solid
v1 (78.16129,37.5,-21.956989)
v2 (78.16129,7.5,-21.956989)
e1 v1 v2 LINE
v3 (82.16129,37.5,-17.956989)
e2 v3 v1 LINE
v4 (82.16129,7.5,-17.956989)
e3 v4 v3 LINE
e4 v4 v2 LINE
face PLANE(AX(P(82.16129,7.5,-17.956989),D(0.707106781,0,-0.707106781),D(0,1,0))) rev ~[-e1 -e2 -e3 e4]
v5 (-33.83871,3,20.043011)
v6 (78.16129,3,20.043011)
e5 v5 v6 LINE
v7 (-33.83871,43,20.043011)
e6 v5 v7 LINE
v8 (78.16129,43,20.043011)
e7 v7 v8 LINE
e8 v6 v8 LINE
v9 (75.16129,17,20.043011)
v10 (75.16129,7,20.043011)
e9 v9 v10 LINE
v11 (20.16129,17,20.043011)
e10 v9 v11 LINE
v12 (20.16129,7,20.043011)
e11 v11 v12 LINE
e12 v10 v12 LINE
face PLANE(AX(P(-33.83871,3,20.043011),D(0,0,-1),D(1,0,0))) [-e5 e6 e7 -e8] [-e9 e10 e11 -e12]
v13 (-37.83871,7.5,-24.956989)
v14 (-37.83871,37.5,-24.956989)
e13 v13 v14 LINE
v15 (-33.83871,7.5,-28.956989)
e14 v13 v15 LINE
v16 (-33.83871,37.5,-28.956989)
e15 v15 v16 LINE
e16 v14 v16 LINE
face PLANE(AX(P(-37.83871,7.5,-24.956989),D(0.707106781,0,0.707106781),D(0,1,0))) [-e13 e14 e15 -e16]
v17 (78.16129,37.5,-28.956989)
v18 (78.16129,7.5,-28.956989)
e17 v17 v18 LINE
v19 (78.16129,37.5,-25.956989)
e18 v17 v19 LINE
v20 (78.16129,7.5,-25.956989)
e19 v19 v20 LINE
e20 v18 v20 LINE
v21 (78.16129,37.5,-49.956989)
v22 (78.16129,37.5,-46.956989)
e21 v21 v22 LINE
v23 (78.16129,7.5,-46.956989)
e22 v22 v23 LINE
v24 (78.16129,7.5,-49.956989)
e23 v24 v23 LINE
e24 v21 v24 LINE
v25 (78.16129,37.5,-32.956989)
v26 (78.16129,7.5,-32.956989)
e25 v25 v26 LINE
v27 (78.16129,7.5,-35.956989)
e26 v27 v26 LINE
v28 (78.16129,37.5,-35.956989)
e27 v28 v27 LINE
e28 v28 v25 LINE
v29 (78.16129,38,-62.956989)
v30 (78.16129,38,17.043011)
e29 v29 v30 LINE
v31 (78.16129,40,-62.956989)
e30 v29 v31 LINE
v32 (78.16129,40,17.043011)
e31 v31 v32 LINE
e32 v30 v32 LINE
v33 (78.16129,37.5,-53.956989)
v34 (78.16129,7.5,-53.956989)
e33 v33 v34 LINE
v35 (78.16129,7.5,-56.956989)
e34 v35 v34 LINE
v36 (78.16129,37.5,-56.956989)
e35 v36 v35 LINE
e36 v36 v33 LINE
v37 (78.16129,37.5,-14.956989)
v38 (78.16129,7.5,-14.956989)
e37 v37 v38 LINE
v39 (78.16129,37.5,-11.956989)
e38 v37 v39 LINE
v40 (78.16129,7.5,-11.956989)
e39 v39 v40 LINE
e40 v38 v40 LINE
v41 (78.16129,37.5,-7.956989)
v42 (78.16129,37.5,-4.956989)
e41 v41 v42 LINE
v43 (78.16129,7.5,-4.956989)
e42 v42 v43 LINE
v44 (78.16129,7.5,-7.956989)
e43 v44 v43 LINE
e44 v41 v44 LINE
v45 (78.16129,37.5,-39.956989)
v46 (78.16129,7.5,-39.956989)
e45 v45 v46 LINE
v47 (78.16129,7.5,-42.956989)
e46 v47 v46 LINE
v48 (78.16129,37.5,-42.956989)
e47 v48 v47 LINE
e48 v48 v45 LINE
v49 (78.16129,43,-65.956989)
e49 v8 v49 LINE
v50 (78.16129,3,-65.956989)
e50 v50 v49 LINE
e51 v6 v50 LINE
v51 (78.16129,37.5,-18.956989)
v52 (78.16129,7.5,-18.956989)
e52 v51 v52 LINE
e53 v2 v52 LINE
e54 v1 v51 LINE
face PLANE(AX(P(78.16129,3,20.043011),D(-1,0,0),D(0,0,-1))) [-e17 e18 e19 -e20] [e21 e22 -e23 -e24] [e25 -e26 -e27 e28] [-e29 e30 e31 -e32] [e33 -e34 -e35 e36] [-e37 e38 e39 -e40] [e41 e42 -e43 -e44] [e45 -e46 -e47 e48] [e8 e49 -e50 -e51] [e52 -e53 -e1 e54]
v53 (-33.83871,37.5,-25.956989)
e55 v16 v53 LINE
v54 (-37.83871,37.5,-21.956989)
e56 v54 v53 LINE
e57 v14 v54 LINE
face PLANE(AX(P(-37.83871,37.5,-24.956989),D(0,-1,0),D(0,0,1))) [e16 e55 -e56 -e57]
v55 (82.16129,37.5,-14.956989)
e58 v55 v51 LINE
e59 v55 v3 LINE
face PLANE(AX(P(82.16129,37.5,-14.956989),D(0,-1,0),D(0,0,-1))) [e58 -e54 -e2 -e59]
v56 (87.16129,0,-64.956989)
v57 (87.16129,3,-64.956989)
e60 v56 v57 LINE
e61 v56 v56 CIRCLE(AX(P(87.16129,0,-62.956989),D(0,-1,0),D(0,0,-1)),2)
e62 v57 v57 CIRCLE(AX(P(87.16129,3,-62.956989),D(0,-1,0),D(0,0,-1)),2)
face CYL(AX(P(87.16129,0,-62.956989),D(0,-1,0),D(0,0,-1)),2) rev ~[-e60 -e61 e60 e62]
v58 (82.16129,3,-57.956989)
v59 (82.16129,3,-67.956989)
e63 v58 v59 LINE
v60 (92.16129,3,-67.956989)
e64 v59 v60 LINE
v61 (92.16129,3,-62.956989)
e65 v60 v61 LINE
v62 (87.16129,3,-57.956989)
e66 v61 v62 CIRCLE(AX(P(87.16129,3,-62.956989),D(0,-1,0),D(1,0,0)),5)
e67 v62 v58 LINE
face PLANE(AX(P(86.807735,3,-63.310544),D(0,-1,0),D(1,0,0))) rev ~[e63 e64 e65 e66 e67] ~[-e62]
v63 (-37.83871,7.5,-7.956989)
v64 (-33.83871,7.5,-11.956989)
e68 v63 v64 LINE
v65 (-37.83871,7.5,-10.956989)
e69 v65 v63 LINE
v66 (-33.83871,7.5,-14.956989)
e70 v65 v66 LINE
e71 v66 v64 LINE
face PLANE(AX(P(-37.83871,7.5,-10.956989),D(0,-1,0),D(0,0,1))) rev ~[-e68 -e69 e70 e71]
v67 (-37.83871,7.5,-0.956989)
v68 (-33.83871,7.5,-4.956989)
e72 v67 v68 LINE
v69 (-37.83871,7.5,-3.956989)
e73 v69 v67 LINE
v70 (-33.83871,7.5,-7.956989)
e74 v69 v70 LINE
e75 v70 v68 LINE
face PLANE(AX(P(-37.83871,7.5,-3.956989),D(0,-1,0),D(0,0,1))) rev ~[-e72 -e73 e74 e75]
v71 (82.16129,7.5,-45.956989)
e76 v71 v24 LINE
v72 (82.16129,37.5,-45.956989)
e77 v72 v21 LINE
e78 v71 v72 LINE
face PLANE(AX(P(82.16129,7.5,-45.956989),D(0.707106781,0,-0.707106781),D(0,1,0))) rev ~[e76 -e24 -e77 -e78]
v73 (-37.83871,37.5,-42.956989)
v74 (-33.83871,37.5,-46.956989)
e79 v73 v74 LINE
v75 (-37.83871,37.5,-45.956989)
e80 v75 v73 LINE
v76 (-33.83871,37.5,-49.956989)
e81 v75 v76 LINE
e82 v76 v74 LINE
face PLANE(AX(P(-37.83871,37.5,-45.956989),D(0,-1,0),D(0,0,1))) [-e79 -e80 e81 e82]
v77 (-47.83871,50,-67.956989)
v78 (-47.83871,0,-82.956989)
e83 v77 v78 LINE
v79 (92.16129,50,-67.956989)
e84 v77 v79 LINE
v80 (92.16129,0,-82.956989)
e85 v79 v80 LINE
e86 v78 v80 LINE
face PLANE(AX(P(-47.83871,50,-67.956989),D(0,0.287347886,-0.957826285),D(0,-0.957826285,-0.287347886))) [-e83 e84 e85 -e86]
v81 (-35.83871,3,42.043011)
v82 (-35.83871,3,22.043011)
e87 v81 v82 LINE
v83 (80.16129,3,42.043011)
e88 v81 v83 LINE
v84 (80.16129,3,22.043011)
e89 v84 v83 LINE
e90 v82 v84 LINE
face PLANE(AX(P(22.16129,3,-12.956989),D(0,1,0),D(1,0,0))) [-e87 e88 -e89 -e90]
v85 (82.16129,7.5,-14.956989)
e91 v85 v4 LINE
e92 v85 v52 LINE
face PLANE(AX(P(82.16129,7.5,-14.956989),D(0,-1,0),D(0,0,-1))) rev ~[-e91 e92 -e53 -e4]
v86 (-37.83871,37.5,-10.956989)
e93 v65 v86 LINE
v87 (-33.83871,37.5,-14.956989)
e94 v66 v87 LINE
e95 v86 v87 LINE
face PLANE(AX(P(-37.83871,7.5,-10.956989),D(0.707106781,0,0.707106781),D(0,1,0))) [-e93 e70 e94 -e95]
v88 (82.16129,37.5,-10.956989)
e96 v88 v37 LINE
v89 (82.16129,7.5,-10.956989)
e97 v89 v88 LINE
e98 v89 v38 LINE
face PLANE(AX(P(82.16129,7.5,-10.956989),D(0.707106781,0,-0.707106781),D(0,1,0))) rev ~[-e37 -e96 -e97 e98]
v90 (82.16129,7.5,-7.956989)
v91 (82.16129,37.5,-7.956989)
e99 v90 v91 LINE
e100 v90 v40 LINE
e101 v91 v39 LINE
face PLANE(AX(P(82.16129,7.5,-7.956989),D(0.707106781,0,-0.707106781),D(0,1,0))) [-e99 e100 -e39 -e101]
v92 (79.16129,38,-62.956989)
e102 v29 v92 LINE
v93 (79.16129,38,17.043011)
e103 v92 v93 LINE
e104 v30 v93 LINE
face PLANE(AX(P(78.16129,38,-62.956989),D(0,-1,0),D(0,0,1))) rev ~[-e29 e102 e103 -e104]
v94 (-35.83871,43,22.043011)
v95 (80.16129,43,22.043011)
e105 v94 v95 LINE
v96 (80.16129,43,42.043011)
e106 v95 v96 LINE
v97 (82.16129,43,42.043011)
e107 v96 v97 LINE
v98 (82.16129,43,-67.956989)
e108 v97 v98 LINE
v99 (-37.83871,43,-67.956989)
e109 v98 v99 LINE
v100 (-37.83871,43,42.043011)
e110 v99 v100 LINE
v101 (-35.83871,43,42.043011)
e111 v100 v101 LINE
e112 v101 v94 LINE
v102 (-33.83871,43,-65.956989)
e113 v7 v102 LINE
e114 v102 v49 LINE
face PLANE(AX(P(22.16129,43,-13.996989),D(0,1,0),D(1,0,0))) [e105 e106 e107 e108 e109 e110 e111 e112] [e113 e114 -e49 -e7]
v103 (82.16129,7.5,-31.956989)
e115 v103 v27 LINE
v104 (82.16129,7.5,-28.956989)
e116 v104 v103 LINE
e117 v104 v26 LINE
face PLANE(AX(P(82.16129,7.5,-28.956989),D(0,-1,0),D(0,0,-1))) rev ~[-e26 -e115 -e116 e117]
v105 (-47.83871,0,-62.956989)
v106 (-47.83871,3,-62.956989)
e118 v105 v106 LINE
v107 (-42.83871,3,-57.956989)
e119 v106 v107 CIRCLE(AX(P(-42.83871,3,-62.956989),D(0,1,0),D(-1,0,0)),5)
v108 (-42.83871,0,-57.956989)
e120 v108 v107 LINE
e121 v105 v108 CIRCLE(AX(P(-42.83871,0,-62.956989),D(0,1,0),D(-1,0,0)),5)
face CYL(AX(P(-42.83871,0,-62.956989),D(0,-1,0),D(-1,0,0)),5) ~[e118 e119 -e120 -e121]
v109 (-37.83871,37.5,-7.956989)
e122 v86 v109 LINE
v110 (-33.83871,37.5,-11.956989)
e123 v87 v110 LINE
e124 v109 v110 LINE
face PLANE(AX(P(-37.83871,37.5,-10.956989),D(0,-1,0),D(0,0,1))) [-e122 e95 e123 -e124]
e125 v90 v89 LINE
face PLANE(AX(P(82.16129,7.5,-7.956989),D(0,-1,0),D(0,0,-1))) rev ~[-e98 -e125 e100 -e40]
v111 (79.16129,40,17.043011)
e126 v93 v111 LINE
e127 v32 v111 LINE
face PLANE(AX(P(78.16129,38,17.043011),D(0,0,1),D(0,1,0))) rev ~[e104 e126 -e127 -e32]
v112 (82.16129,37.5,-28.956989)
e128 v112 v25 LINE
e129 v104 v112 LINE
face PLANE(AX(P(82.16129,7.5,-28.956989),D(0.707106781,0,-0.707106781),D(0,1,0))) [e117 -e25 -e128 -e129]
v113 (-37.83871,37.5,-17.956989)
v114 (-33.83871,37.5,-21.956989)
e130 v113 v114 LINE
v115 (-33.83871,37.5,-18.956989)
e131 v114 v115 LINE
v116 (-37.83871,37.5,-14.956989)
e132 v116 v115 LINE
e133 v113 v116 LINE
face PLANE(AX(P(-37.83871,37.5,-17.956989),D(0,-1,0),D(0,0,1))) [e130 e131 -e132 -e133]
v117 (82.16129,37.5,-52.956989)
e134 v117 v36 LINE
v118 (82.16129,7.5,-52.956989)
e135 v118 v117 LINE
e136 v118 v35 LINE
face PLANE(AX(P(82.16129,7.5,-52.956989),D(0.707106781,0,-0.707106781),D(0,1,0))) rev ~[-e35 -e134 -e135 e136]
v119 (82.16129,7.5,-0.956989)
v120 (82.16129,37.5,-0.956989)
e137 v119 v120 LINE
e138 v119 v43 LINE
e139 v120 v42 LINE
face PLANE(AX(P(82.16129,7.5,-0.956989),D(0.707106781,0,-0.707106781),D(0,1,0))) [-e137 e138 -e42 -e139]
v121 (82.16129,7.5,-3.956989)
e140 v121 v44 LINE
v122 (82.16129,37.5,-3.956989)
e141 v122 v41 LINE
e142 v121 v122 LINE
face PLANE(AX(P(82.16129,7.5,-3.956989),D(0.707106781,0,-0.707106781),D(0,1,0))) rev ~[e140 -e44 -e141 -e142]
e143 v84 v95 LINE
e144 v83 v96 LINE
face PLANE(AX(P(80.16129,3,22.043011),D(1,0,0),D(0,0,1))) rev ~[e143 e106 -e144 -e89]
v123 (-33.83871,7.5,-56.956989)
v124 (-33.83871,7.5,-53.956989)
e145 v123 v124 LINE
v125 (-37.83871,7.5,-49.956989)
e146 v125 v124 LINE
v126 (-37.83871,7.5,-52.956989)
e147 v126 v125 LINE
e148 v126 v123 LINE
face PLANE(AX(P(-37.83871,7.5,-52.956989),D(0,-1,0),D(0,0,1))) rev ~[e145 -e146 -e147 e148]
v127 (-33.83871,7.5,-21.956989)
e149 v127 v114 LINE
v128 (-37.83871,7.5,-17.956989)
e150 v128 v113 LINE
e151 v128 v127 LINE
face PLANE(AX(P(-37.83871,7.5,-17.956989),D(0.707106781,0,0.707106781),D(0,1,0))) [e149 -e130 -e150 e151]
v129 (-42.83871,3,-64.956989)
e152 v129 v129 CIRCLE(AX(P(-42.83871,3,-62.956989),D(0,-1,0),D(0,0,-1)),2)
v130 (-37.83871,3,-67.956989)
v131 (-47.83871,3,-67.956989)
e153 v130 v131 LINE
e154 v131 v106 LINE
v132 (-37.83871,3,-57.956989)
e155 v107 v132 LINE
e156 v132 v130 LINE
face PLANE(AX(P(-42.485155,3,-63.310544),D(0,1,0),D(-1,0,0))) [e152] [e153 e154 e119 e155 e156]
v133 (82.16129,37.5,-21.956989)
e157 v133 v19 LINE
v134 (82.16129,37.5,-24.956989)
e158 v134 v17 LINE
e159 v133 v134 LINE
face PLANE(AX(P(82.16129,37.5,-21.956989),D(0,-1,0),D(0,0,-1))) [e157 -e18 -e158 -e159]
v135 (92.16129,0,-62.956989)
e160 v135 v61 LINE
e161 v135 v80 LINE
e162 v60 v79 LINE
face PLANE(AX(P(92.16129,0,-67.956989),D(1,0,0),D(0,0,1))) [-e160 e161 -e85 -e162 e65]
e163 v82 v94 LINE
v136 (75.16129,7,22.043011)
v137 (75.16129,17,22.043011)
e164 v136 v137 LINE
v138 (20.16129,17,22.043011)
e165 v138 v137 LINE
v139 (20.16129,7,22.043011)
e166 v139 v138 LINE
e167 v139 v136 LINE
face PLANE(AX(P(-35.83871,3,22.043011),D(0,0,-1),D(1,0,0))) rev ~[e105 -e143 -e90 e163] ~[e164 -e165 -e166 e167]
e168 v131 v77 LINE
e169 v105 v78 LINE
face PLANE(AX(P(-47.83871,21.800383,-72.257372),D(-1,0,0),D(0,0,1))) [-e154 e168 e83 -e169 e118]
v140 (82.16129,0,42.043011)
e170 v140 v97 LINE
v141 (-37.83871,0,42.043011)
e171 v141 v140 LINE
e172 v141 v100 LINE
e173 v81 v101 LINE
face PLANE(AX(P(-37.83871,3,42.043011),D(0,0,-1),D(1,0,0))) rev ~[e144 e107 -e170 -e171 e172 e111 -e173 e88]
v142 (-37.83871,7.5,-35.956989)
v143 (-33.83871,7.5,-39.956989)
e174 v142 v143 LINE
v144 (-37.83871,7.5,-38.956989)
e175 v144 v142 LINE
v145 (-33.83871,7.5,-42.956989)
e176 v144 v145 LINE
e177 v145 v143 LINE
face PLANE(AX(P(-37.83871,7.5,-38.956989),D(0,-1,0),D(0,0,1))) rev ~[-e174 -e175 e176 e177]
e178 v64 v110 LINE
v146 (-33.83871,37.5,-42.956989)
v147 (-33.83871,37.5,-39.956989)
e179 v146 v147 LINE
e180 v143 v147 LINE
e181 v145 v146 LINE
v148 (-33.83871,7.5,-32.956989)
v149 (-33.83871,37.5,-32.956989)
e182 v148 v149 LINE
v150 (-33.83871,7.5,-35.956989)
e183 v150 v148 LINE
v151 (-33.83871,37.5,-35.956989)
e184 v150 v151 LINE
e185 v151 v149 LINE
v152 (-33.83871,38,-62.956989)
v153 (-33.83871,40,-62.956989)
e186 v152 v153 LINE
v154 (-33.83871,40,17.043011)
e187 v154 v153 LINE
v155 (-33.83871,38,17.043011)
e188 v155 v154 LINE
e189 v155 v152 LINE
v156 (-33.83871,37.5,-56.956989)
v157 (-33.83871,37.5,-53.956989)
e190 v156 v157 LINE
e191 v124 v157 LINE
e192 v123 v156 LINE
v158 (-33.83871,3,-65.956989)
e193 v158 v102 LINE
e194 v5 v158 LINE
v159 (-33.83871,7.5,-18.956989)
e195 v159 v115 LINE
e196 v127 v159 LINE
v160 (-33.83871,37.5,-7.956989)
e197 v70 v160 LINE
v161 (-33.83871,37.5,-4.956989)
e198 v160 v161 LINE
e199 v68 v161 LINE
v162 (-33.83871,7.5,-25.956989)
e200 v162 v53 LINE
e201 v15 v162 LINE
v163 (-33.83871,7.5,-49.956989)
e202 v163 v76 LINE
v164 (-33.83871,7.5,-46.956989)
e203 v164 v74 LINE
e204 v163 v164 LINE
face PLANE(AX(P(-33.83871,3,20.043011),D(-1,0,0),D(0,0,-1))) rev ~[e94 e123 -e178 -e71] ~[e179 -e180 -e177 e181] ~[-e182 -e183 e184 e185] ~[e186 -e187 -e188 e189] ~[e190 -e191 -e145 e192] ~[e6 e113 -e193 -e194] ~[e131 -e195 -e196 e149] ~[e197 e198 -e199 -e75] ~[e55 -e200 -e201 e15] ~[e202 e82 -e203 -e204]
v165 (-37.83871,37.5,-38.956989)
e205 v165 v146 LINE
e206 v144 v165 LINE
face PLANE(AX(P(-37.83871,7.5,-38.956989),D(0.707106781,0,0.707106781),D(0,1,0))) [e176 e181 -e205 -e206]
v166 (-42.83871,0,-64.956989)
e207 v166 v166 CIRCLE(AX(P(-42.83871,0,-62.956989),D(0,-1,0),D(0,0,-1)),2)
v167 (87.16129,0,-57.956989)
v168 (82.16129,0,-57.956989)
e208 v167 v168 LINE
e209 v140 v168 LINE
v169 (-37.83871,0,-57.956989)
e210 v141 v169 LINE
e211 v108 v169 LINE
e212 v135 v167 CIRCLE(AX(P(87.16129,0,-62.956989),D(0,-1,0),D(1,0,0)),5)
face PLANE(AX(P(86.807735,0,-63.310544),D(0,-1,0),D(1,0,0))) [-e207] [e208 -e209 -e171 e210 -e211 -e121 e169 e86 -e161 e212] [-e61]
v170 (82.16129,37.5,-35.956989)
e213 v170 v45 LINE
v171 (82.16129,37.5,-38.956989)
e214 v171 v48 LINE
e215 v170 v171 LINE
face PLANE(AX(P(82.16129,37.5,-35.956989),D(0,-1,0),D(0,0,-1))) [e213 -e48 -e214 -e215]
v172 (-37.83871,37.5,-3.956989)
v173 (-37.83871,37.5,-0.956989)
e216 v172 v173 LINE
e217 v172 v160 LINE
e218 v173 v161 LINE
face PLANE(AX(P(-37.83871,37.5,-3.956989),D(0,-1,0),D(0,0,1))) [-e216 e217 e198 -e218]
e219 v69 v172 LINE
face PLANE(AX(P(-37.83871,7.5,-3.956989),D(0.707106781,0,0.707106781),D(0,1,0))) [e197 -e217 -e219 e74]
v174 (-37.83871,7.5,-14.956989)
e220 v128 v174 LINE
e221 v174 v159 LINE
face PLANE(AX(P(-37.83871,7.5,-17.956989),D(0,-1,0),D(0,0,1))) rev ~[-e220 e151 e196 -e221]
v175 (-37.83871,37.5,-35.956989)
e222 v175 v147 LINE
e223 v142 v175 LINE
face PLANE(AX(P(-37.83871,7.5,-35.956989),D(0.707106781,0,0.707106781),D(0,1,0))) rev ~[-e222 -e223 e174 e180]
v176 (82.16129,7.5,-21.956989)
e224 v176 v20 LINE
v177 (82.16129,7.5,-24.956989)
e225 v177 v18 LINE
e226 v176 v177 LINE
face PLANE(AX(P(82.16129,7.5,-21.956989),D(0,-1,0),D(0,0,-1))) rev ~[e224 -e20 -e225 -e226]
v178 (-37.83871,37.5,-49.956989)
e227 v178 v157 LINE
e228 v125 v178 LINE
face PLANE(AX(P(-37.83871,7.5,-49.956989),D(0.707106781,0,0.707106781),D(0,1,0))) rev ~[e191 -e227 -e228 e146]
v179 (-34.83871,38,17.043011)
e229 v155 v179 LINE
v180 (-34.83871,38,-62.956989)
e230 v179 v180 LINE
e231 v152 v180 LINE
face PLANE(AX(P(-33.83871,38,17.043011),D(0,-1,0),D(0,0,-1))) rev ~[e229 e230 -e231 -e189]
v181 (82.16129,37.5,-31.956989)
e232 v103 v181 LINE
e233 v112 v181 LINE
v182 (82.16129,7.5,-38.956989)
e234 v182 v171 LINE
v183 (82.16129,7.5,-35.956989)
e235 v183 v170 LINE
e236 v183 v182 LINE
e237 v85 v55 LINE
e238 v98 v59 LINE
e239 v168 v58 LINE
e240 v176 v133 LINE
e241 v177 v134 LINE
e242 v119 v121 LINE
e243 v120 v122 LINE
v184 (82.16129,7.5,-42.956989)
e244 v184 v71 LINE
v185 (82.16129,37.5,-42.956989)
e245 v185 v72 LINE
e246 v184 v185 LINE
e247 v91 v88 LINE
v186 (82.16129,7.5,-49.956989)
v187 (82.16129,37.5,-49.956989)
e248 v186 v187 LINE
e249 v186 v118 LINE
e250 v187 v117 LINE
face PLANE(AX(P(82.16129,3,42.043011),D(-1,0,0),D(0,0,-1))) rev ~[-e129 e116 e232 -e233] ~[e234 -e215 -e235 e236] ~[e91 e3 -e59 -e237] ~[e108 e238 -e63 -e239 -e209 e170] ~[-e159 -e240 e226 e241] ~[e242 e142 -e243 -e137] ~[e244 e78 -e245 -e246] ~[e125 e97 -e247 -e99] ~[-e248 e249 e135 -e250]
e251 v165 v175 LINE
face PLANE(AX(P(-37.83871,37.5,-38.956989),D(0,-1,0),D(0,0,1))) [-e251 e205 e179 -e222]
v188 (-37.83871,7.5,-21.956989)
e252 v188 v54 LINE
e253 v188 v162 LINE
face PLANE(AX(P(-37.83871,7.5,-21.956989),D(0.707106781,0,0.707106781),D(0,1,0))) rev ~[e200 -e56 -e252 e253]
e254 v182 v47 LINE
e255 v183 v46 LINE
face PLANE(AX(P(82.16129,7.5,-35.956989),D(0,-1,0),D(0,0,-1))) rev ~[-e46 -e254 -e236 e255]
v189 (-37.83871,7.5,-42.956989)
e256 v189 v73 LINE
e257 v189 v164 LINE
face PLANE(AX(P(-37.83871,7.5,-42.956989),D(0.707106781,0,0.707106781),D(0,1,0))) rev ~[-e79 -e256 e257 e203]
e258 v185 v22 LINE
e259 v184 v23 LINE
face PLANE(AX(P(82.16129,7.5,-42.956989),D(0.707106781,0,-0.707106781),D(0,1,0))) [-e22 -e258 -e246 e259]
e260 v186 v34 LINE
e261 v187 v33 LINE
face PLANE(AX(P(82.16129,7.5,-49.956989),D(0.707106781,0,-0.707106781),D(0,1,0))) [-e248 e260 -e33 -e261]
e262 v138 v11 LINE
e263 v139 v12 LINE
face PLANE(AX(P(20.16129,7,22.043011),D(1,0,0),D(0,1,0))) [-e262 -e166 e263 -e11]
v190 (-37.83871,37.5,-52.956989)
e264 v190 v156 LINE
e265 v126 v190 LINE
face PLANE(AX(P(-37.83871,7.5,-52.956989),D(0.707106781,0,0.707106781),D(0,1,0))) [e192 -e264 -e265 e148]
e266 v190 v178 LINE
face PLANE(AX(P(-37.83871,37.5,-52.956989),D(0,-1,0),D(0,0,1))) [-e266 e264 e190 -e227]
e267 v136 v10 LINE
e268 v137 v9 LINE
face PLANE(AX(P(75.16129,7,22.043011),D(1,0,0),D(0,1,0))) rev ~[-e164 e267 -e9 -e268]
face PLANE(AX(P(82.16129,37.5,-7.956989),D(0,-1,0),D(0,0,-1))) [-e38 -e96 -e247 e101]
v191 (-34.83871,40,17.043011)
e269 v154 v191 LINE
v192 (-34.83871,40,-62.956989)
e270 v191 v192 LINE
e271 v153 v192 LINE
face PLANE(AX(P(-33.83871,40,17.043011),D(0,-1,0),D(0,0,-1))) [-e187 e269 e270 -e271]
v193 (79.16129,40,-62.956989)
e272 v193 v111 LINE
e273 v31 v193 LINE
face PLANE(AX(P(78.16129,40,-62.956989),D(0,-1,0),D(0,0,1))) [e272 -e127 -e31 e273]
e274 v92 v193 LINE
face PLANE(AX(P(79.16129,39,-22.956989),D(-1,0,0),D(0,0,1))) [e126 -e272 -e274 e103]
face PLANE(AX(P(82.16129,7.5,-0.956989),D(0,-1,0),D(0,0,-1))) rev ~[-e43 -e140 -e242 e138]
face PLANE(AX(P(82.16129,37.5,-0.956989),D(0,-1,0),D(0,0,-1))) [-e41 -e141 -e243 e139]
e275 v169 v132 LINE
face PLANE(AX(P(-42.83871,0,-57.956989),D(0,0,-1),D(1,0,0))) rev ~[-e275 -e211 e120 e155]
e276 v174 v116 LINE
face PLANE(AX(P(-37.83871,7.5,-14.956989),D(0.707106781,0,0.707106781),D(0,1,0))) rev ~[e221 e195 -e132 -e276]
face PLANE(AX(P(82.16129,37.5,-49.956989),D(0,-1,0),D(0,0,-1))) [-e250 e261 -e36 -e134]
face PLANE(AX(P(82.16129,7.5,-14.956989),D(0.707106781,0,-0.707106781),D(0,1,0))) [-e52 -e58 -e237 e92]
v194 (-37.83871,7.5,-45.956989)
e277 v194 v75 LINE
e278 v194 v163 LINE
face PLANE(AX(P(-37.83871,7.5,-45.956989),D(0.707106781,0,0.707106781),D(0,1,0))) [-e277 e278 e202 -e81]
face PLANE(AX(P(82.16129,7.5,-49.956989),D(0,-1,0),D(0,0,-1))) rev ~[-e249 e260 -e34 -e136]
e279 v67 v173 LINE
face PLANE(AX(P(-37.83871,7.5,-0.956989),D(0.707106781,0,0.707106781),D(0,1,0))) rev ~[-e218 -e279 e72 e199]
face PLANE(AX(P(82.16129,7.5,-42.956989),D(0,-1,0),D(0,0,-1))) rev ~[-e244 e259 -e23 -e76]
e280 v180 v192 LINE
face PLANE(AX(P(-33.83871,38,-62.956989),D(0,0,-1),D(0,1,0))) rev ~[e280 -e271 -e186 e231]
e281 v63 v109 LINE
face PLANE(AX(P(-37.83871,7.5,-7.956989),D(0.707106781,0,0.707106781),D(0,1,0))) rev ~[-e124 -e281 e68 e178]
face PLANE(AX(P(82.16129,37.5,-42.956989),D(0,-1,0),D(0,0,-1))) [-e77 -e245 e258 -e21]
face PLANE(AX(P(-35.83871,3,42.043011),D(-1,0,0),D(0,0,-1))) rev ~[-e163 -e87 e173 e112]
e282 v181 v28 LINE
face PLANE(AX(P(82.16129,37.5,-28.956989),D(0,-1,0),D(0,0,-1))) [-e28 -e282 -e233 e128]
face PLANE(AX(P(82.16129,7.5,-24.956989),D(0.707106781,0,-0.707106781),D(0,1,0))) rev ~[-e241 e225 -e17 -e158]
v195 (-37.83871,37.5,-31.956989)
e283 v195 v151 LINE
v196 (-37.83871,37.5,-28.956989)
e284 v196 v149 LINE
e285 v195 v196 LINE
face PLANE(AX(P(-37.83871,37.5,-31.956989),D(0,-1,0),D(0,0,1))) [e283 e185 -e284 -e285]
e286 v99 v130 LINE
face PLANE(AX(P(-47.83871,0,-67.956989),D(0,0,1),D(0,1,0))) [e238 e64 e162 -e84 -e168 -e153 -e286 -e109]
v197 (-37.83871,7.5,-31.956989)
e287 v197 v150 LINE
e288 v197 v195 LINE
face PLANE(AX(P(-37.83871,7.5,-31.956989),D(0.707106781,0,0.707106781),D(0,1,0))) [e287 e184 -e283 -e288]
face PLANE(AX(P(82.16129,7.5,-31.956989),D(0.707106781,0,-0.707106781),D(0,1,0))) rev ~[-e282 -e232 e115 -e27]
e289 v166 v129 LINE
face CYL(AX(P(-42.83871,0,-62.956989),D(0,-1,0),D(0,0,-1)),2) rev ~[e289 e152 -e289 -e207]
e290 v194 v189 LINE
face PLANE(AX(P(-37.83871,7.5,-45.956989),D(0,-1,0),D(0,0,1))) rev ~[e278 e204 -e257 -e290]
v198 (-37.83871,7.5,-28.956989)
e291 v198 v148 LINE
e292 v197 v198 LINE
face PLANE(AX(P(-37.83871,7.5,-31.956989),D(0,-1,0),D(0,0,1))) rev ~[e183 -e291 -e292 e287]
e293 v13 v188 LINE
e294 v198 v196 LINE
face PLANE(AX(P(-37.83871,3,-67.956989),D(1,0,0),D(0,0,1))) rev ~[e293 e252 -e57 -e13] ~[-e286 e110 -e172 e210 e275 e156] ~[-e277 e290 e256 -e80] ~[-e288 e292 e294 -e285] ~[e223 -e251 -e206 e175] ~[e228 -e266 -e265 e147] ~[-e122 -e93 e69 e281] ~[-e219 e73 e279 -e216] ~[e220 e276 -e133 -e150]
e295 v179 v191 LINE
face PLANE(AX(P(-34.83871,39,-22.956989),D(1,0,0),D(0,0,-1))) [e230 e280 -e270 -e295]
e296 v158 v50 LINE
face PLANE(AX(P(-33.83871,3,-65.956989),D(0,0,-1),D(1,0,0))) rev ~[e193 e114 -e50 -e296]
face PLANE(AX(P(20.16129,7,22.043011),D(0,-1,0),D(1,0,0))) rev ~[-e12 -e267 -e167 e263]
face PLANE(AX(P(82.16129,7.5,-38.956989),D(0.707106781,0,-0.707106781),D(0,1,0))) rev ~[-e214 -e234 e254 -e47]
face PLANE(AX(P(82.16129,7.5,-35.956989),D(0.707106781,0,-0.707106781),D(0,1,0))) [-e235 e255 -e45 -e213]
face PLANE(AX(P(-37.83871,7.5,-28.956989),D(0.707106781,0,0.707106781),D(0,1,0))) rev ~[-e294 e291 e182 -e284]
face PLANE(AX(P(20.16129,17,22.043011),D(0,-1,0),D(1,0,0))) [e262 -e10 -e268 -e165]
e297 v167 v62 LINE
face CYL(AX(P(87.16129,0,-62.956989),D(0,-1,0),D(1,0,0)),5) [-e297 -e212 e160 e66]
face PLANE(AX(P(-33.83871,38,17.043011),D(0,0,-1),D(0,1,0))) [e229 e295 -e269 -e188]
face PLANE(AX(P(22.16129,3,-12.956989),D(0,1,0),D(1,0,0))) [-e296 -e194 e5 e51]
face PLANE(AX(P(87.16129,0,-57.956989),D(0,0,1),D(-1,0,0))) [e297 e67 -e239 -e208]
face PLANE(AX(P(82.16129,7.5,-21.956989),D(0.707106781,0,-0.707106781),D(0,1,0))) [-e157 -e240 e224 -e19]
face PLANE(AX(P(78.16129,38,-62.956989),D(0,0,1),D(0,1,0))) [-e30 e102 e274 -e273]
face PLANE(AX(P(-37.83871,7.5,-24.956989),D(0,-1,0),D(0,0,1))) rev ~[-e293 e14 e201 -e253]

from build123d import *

# Parameters (mm, degrees)
SKETCH1_W                       = 120
SKETCH1_H                       = 110
BOSS_EXTRUDE1_DEPTH             = 3
SKETCH2_W                       = 112
SKETCH2_H                       = 86
BOSS_EXTRUDE2_DEPTH             = 40
BOSS_EXTRUDE3_DEPTH             = 10
BOSS_EXTRUDE3_DEPTH_BACK        = 130
SKIZZE2_R                       = 2
AUFSATZ_LINEAR_AUSTRAGEN1_DEPTH = 3
SKIZZE3_W                       = 3
SKIZZE3_H                       = 30
SCHNITT_LINEAR_AUSTRAGEN1_DEPTH = 13
SKIZZE8_W                       = 3
SKIZZE8_H                       = 30
SCHNITT_LINEAR_AUSTRAGEN2_DEPTH = 13
SKIZZE10_W                      = 80
SKIZZE10_H                      = 2
SCHNITT_LINEAR_AUSTRAGEN3_DEPTH = 1
SKIZZE11_W                      = 80
SKIZZE11_H                      = 2
SCHNITT_LINEAR_AUSTRAGEN4_DEPTH = 1
SKIZZE12_W                      = 55
SKIZZE12_H                      = 10
SCHNITT_LINEAR_AUSTRAGEN5_DEPTH = 31


with BuildPart() as part:
    # Sketch1 → Boss-Extrude1 (new body)
    with BuildSketch(Plane(origin=(0, 0, 0), x_dir=(1, 0, 0), z_dir=(0, 1, 0))):
        with Locations((22.161290323, 12.956989247)):
            Rectangle(SKETCH1_W, SKETCH1_H)
    extrude(amount=BOSS_EXTRUDE1_DEPTH)

    # Sketch2 → Boss-Extrude2 (add)
    with BuildSketch(Plane(origin=(0, 3, 0), x_dir=(1, 0, 0), z_dir=(0, 1, 0))):
        Polygon((-37.838709677, 67.956989247), (-37.838709677, -42.043010753), (-35.838709677, -42.043010753), (-35.838709677, -22.043010753), (80.161290323, -22.043010753), (80.161290323, -42.043010753), (82.161290323, -42.043010753), (82.161290323, 67.956989247), align=None)
        with Locations((22.161290323, 22.956989247)):
            Rectangle(SKETCH2_W, SKETCH2_H, mode=Mode.SUBTRACT)
    extrude(amount=BOSS_EXTRUDE2_DEPTH)

    # Sketch3 → Boss-Extrude3 (add, two sides: drawn at the far end of the back side and taken through both)
    with BuildSketch(Plane(origin=(82.161290323, 0, 0), x_dir=(0, 0, -1), z_dir=(1, 0, 0)).offset(-BOSS_EXTRUDE3_DEPTH_BACK)):
        Polygon((67.956989247, 50), (82.956989247, 0), (67.956989247, 0), align=None)
    extrude(amount=BOSS_EXTRUDE3_DEPTH + BOSS_EXTRUDE3_DEPTH_BACK)

    # Skizze2 → Aufsatz-Linear austragen1 (add)
    # profile 1 of 2: a face of its own
    with BuildSketch(Plane.XZ):
        with BuildLine():
            Line((82.161290323, -67.956989247), (92.161290323, -67.956989247))
            Line((92.161290323, -67.956989247), (92.161290323, -62.956989247))
            ThreePointArc((92.161290323, -62.956989247), (90.696824229, -59.421455341), (87.161290323, -57.956989247))
            Line((87.161290323, -57.956989247), (82.161290323, -57.956989247))
            Line((82.161290323, -57.956989247), (82.161290323, -67.956989247))
        make_face()
        with Locations(Location((87.161290323, -62.956989247, 0), (0, 0, 270))):
            Circle(SKIZZE2_R, mode=Mode.SUBTRACT)
    # profile 2 of 2: a face of its own
    with BuildSketch(Plane.XZ):
        with BuildLine():
            Line((-37.838709677, -67.956989247), (-47.838709677, -67.956989247))
            Line((-47.838709677, -67.956989247), (-47.838709677, -62.956989247))
            ThreePointArc((-47.838709677, -62.956989247), (-46.374243583, -59.421455341), (-42.838709677, -57.956989247))
            Line((-42.838709677, -57.956989247), (-37.838709677, -57.956989247))
            Line((-37.838709677, -57.956989247), (-37.838709677, -67.956989247))
        make_face()
        with Locations(Location((-42.838709677, -62.956989247, 0), (0, 0, 270))):
            Circle(SKIZZE2_R, mode=Mode.SUBTRACT)
    extrude(amount=-AUFSATZ_LINEAR_AUSTRAGEN1_DEPTH)

    # Skizze3 → Schnitt-Linear austragen1 (cut, along a direction that is not the sketch's normal)
    with BuildSketch(Plane(origin=(82.161290323, 0, 0), x_dir=(0, 0, -1), z_dir=(1, 0, 0))):
        with Locations((51.456989247, 22.5)):
            Rectangle(SKIZZE3_W, SKIZZE3_H)
        with Locations((44.456989247, 22.5)):
            Rectangle(SKIZZE3_W, SKIZZE3_H)
        with Locations((37.456989247, 22.5)):
            Rectangle(SKIZZE3_W, SKIZZE3_H)
        with Locations((30.456989247, 22.5)):
            Rectangle(SKIZZE3_W, SKIZZE3_H)
        with Locations((23.456989247, 22.5)):
            Rectangle(SKIZZE3_W, SKIZZE3_H)
        with Locations((16.456989247, 22.5)):
            Rectangle(SKIZZE3_W, SKIZZE3_H)
        with Locations((9.456989247, 22.5)):
            Rectangle(SKIZZE3_W, SKIZZE3_H)
        with Locations((2.456989247, 22.5)):
            Rectangle(SKIZZE3_W, SKIZZE3_H)
    extrude(amount=-SCHNITT_LINEAR_AUSTRAGEN1_DEPTH, dir=(0.7071067811865519, 0, 0.7071067811865432), mode=Mode.SUBTRACT)

    # Skizze8 → Schnitt-Linear austragen2 (cut, along a direction that is not the sketch's normal)
    with BuildSketch(Plane.ZY.offset(37.838709677)):
        with Locations((-51.456989247, 22.5)):
            Rectangle(SKIZZE8_W, SKIZZE8_H)
        with Locations((-44.456989247, 22.5)):
            Rectangle(SKIZZE8_W, SKIZZE8_H)
        with Locations((-37.456989247, 22.5)):
            Rectangle(SKIZZE8_W, SKIZZE8_H)
        with Locations((-30.456989247, 22.5)):
            Rectangle(SKIZZE8_W, SKIZZE8_H)
        with Locations((-23.456989247, 22.5)):
            Rectangle(SKIZZE8_W, SKIZZE8_H)
        with Locations((-16.456989247, 22.5)):
            Rectangle(SKIZZE8_W, SKIZZE8_H)
        with Locations((-9.456989247, 22.5)):
            Rectangle(SKIZZE8_W, SKIZZE8_H)
        with Locations((-2.456989247, 22.5)):
            Rectangle(SKIZZE8_W, SKIZZE8_H)
    extrude(amount=-SCHNITT_LINEAR_AUSTRAGEN2_DEPTH, dir=(-0.7071067811865462, 0, 0.7071067811865488), mode=Mode.SUBTRACT)

    # Skizze10 → Schnitt-Linear austragen3 (cut)
    with BuildSketch(Plane(origin=(-33.838709677, 0, 0), x_dir=(0, 0, -1), z_dir=(1, 0, 0))):
        with Locations((22.956989247, 39)):
            Rectangle(SKIZZE10_W, SKIZZE10_H)
    extrude(amount=-SCHNITT_LINEAR_AUSTRAGEN3_DEPTH, mode=Mode.SUBTRACT)

    # Skizze11 → Schnitt-Linear austragen4 (cut)
    with BuildSketch(Plane.ZY.offset(-78.161290323)):
        with Locations((-22.956989247, 39)):
            Rectangle(SKIZZE11_W, SKIZZE11_H)
    extrude(amount=-SCHNITT_LINEAR_AUSTRAGEN4_DEPTH, mode=Mode.SUBTRACT)

    # Skizze12 → Schnitt-Linear austragen5 (cut)
    with BuildSketch(Plane.XY.offset(22.043010753)):
        with Locations((47.661290323, 12)):
            Rectangle(SKIZZE12_W, SKIZZE12_H)
    extrude(amount=-SCHNITT_LINEAR_AUSTRAGEN5_DEPTH, mode=Mode.SUBTRACT)


solid = part.part
